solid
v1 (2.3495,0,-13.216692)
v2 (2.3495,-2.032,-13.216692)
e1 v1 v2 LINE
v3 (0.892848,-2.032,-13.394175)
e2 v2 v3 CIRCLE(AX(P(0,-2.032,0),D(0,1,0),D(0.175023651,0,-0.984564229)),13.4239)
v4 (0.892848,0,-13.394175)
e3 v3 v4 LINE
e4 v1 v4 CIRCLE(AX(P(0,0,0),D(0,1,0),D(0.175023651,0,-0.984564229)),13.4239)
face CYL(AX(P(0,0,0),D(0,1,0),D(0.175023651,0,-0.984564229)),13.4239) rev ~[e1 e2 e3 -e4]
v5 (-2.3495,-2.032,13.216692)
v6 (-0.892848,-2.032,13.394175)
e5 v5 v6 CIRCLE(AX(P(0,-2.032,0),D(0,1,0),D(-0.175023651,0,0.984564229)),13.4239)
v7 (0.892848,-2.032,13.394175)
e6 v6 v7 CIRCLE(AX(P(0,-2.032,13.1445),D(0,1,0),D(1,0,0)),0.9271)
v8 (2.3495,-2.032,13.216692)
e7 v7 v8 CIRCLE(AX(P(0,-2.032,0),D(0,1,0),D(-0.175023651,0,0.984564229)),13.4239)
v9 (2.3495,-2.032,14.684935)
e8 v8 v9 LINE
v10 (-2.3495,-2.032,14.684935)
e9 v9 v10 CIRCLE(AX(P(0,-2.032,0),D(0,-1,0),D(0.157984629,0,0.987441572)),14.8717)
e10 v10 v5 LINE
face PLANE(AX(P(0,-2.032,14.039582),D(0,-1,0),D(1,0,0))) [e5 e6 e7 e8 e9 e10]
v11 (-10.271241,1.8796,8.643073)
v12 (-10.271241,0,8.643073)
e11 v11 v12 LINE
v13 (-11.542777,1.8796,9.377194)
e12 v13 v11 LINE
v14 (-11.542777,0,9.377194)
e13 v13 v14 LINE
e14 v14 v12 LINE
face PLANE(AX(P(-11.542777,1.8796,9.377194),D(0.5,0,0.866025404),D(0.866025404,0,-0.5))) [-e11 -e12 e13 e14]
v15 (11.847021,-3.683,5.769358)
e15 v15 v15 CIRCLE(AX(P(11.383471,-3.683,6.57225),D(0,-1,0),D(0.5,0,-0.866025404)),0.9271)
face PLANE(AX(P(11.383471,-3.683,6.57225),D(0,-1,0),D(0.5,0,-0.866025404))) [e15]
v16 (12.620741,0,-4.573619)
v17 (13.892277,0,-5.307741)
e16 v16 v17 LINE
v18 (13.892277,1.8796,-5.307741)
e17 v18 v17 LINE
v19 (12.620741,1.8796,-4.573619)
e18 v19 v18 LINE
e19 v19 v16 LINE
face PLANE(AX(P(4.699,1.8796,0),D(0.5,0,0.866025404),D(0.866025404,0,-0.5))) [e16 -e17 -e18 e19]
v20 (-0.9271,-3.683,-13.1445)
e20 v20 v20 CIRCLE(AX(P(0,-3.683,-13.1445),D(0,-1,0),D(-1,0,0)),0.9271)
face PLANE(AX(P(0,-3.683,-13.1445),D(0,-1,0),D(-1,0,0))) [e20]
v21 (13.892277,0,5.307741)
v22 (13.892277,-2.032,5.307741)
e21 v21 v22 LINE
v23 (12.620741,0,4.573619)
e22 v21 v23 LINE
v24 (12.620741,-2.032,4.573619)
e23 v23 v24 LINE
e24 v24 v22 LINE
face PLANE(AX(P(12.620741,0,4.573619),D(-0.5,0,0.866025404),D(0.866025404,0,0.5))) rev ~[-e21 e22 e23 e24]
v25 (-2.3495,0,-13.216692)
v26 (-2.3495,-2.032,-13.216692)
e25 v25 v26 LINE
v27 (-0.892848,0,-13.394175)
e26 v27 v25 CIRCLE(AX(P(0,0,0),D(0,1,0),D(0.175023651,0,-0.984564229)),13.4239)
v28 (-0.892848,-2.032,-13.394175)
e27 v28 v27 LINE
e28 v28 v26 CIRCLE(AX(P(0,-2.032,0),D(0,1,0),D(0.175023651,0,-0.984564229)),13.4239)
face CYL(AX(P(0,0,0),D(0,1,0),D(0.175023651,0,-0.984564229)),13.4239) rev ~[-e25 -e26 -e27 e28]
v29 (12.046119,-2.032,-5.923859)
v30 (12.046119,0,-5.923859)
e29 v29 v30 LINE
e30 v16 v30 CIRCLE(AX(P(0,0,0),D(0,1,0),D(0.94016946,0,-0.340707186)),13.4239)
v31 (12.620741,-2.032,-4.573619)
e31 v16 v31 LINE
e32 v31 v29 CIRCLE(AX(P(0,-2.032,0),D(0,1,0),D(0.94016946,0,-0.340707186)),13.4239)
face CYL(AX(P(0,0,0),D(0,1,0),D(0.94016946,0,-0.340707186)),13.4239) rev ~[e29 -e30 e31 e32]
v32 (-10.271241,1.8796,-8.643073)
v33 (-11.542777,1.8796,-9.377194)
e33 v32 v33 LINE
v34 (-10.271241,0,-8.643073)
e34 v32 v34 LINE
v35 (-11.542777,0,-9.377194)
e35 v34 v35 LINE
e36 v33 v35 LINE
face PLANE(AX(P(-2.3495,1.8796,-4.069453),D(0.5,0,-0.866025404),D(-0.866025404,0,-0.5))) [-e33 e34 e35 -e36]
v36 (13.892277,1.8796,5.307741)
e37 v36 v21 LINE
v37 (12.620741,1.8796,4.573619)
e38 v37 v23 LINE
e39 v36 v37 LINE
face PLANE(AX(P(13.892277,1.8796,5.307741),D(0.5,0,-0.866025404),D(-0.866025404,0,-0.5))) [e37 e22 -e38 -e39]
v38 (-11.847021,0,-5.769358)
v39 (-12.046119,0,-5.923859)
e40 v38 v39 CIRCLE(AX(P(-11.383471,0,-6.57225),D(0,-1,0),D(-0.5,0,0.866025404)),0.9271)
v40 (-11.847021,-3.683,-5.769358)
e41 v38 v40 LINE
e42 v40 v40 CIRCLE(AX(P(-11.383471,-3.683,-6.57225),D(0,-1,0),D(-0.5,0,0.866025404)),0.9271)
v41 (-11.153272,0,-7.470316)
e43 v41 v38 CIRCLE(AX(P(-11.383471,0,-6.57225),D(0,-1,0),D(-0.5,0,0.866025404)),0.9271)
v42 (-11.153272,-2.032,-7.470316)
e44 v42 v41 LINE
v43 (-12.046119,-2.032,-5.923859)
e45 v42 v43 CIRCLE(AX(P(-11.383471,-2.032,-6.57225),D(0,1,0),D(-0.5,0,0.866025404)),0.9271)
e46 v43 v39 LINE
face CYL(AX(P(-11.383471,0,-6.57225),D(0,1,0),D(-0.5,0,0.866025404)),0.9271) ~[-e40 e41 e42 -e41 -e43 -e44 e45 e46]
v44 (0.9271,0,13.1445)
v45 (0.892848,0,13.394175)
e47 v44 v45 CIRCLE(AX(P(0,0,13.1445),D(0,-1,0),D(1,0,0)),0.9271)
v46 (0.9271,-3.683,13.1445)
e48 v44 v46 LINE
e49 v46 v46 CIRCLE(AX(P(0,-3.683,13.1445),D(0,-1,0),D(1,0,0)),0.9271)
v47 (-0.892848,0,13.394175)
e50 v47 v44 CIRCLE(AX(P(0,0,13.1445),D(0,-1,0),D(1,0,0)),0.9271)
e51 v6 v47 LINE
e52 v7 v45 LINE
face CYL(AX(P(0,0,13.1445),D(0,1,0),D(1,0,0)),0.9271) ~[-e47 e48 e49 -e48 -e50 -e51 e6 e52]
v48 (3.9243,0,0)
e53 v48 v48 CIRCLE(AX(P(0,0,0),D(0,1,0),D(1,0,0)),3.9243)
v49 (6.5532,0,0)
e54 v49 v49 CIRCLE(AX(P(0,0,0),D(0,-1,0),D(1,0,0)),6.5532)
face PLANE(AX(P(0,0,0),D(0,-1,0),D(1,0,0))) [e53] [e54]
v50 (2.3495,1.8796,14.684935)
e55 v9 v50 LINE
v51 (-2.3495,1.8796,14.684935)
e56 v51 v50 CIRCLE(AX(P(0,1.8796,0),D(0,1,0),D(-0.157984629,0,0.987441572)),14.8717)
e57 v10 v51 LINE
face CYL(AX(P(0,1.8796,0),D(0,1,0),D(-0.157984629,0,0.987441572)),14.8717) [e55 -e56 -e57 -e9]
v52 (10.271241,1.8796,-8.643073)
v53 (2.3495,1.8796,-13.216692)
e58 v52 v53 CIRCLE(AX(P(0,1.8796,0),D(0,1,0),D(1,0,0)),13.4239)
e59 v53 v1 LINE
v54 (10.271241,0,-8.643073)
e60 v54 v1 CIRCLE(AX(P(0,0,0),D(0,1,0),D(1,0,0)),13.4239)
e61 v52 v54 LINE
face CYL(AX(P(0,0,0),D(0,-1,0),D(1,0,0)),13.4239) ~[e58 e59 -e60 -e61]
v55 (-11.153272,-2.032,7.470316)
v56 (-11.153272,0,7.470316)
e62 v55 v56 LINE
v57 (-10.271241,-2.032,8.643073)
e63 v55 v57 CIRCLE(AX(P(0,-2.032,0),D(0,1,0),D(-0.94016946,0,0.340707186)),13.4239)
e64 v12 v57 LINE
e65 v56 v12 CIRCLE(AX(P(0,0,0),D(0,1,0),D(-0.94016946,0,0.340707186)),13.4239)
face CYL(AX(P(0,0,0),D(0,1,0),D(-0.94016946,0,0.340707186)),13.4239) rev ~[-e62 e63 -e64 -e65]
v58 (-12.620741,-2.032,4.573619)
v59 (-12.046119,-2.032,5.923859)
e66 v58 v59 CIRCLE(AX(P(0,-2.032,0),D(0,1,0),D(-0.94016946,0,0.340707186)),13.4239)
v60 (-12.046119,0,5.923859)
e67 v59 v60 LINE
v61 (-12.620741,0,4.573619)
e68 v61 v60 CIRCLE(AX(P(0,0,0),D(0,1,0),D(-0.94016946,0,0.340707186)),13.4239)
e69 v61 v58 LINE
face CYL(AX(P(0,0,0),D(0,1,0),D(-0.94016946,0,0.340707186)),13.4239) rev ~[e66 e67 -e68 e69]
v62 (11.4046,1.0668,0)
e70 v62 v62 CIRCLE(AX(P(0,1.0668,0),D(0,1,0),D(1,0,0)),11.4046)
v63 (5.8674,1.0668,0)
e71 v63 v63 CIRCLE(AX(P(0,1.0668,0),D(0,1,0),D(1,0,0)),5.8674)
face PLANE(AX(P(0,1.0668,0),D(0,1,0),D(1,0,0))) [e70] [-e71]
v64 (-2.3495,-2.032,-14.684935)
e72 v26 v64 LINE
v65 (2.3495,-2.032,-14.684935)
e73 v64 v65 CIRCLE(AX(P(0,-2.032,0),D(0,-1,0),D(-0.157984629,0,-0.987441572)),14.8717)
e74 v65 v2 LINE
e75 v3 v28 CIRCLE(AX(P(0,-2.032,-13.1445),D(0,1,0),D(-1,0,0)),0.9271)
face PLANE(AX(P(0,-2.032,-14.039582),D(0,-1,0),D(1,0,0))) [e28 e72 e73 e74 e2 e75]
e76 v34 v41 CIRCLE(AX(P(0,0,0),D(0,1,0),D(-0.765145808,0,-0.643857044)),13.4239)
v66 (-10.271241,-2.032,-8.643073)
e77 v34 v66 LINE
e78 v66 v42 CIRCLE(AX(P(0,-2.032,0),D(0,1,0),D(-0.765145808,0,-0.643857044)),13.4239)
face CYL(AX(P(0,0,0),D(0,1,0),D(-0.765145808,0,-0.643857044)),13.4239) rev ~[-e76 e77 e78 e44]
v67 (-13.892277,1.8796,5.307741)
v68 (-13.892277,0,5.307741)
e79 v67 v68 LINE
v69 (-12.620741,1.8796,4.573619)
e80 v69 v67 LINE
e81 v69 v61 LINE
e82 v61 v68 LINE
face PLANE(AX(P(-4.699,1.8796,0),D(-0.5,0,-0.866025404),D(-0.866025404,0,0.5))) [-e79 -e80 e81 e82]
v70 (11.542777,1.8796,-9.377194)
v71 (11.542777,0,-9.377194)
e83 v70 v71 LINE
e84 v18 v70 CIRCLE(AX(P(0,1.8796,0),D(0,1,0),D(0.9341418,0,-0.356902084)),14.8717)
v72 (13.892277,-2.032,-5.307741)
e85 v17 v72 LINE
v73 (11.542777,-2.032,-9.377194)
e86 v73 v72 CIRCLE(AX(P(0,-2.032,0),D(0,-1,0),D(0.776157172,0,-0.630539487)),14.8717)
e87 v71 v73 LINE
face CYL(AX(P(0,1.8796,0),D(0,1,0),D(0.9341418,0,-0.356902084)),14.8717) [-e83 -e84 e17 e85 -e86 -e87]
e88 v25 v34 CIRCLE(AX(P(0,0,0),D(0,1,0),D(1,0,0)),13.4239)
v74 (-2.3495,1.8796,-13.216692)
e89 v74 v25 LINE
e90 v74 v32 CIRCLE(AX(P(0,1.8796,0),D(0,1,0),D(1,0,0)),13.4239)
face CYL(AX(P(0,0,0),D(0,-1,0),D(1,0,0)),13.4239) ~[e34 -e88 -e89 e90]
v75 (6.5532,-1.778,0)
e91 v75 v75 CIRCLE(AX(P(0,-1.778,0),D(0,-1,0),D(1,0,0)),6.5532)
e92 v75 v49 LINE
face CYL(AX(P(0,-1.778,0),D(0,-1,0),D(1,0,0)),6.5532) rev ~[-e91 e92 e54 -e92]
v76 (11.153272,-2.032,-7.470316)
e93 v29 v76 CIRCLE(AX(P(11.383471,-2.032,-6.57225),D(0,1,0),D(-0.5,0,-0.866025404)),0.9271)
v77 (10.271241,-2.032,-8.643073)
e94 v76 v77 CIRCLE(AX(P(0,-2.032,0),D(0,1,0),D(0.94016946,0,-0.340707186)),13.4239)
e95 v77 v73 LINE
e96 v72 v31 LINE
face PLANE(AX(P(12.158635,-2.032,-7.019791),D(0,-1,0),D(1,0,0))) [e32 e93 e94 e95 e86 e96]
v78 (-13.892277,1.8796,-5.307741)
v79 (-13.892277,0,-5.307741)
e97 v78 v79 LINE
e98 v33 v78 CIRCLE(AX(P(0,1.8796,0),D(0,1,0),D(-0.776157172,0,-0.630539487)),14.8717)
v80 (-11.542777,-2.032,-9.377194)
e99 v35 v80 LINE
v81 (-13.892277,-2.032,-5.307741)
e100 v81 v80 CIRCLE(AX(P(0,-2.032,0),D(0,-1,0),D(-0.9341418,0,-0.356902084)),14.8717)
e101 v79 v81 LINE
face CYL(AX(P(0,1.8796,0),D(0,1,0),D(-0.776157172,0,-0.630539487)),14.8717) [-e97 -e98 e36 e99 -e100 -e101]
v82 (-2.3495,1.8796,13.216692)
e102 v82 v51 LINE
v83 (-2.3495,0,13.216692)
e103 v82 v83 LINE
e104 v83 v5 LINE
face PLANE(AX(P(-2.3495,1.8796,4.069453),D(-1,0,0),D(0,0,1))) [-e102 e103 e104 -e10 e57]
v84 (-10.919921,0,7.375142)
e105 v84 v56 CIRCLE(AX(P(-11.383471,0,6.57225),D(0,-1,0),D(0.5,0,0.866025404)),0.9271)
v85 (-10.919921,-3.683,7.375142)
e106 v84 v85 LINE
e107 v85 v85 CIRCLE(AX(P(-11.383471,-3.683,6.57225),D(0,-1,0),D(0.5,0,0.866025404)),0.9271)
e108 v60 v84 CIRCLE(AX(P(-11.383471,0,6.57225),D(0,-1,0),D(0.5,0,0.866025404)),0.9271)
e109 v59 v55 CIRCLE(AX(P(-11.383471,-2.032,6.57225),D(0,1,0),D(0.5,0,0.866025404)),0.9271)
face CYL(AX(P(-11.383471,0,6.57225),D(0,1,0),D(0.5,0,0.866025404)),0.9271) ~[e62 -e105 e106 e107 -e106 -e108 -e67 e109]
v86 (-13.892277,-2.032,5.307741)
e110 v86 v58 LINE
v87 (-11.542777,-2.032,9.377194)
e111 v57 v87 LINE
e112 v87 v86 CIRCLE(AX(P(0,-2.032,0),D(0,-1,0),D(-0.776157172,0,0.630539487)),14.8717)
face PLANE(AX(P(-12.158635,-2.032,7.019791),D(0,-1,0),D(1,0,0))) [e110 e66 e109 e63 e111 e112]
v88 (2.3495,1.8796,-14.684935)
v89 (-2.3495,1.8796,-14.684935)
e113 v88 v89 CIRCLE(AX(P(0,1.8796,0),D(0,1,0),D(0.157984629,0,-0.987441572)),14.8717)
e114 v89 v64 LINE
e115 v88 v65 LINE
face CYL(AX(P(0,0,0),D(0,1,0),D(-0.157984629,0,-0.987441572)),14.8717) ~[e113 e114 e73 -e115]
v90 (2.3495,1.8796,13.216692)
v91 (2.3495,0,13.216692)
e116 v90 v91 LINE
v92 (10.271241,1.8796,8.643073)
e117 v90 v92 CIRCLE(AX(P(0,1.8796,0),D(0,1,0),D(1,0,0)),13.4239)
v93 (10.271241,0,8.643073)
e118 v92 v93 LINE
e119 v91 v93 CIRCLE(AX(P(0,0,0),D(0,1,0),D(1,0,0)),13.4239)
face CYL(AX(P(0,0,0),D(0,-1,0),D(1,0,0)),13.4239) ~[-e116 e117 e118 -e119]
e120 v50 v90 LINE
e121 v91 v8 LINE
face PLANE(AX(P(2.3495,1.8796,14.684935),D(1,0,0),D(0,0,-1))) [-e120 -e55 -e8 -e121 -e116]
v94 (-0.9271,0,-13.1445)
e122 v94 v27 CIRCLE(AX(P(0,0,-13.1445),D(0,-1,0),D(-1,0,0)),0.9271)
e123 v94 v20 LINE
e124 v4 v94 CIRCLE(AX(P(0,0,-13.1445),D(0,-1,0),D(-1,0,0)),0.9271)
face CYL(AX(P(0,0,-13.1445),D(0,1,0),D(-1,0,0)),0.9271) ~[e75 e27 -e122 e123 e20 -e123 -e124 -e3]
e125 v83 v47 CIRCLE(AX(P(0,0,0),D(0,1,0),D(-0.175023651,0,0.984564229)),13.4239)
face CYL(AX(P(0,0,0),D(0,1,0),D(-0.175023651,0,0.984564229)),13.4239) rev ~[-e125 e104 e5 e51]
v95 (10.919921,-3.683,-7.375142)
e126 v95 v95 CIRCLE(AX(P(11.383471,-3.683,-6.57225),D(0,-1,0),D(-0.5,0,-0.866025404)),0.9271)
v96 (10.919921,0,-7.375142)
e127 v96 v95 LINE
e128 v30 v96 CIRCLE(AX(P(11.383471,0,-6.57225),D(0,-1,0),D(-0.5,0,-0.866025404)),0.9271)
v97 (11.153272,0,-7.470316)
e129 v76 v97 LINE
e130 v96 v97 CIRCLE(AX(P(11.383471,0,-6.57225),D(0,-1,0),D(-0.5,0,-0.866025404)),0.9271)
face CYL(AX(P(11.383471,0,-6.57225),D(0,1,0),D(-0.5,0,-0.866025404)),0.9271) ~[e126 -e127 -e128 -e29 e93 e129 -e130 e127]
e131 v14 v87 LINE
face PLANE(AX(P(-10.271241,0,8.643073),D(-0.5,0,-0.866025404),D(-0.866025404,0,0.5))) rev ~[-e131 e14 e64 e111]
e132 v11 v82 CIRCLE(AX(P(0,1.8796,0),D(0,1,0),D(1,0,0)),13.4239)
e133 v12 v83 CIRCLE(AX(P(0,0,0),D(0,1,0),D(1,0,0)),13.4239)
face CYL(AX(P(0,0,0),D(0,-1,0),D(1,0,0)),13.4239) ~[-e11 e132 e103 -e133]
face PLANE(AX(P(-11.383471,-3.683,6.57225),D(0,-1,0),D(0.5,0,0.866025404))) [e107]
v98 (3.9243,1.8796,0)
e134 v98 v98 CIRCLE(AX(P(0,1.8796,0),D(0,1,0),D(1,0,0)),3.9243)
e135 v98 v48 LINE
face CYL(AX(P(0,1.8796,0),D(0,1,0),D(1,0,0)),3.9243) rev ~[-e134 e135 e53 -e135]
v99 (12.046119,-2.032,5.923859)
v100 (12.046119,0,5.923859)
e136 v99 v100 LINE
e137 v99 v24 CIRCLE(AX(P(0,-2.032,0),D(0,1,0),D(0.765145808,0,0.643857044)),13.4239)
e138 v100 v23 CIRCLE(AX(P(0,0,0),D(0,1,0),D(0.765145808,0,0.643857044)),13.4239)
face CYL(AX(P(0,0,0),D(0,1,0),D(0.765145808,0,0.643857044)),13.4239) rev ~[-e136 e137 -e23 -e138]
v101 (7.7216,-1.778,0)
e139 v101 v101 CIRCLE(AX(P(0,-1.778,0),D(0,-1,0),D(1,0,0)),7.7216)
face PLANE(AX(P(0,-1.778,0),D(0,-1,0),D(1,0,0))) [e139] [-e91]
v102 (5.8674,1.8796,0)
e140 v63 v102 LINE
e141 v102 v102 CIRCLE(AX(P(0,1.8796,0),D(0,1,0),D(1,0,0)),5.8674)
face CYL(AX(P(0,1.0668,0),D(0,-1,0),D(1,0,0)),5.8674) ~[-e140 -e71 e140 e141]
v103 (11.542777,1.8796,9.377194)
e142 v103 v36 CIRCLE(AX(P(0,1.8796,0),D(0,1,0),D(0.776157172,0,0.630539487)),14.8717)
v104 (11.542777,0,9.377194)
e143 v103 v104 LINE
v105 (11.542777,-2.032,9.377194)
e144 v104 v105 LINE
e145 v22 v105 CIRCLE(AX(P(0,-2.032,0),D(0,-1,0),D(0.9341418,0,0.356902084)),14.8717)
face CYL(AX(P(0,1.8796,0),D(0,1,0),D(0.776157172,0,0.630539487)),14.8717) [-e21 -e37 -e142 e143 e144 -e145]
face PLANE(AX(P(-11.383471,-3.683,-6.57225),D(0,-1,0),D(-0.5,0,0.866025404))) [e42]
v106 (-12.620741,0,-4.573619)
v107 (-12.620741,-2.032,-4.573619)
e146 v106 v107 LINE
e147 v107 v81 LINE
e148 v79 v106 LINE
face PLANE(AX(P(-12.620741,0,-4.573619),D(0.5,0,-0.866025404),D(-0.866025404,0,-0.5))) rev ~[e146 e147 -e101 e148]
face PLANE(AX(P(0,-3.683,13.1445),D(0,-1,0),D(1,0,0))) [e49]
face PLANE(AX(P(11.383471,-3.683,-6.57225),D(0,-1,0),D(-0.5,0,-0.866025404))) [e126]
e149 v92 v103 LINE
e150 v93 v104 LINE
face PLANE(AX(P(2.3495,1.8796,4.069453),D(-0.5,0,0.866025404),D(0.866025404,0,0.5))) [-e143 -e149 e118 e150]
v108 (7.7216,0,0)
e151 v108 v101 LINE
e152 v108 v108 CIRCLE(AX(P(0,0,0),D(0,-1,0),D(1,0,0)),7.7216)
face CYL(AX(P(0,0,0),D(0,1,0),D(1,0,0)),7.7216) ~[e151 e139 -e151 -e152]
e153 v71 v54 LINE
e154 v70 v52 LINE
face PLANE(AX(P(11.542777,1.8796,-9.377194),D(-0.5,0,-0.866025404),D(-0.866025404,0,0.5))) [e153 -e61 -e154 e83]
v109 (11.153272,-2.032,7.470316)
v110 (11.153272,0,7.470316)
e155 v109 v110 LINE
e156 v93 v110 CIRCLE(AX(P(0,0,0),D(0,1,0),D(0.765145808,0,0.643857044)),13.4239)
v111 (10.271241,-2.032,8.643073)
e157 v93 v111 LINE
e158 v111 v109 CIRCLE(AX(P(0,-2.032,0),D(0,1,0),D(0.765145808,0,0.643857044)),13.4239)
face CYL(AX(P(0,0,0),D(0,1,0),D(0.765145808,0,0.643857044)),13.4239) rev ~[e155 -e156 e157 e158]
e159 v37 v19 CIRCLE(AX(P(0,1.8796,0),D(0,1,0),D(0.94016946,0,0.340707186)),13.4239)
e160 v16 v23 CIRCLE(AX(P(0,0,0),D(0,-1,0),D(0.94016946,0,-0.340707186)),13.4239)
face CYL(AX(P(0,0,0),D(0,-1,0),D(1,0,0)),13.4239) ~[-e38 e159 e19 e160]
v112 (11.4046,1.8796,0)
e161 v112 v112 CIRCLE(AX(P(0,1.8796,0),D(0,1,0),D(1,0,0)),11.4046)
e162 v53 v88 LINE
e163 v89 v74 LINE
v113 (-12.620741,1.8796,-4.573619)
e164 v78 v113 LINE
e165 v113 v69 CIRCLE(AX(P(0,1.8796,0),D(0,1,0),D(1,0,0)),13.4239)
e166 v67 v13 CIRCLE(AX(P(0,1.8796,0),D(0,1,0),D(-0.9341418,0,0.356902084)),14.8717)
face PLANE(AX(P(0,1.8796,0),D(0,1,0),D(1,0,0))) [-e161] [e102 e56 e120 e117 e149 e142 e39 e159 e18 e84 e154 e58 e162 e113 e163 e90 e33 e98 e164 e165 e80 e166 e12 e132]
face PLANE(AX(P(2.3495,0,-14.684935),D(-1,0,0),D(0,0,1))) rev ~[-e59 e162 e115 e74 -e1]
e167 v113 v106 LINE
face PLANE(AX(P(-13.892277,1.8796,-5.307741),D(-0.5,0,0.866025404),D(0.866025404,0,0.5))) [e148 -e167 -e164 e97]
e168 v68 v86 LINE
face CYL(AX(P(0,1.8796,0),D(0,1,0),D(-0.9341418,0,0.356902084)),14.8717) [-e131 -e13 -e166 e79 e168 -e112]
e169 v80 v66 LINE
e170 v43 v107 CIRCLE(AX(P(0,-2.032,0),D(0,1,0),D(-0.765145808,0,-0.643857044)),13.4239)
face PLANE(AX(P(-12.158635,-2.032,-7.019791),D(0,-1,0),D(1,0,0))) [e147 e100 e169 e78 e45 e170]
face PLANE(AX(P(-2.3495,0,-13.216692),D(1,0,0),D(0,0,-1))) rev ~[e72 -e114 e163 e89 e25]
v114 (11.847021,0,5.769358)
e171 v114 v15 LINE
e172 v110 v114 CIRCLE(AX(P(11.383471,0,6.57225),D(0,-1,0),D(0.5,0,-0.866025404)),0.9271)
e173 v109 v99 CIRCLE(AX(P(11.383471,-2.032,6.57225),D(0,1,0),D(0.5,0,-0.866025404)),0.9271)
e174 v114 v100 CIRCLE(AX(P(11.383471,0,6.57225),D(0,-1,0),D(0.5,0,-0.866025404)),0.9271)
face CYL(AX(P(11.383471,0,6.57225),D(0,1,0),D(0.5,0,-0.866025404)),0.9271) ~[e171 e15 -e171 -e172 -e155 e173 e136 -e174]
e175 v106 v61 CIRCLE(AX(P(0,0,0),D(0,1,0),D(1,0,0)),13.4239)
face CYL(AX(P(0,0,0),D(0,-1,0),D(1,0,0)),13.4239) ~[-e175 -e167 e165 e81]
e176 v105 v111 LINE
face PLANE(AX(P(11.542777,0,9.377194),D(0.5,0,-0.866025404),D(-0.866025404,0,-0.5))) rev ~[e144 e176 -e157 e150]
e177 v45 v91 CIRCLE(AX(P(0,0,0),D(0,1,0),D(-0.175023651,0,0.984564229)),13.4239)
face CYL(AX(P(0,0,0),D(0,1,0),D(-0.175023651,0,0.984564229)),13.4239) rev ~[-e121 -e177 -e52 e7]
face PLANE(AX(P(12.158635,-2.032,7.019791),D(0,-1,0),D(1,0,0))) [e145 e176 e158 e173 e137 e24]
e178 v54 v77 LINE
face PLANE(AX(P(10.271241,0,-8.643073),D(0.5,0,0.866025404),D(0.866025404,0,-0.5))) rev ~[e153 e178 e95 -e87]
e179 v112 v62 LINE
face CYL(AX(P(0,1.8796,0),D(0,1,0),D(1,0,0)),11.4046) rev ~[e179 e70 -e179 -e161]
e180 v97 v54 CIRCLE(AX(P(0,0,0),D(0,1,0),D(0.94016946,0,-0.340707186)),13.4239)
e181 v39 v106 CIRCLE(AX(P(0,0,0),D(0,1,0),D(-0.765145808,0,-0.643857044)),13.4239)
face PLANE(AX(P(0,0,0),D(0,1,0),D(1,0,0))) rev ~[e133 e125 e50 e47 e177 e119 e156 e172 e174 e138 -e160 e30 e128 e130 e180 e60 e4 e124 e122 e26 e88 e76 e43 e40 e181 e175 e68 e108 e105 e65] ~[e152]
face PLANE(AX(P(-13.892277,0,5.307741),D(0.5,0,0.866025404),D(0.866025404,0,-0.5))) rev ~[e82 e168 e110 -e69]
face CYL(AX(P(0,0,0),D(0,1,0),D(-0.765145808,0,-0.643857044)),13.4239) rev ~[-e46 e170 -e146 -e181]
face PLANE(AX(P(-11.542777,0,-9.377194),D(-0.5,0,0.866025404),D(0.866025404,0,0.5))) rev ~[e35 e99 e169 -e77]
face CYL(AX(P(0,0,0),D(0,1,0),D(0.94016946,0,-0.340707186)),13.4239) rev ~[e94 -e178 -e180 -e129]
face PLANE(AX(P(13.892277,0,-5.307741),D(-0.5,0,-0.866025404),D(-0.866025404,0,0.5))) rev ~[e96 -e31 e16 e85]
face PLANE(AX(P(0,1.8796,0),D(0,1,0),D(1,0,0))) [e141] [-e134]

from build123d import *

# Parameters (mm, degrees)
SKETCH1_R           = 13.4239
BOSS_EXTRUDE1_DEPTH = 1.8796
BOSS_EXTRUDE2_DEPTH = 1.8796
SKETCH3_R           = 11.4046
CUT_EXTRUDE1_DEPTH  = 0.8128
SKETCH4_R           = 5.8674
BOSS_EXTRUDE3_DEPTH = 0.8128
SKETCH5_R           = 3.9243
CUT_EXTRUDE2_DEPTH  = 2.8796
SKETCH6_R           = 7.7216
BOSS_EXTRUDE4_DEPTH = 1.778
SKETCH7_R           = 6.5532
CUT_EXTRUDE3_DEPTH  = 1.778
BOSS_EXTRUDE5_DEPTH = 2.032
SKETCH9_R           = 0.9271
BOSS_EXTRUDE6_DEPTH = 3.683
CIRPATTERN1_COUNT   = 6


with BuildPart() as part:
    # Sketch1 → Boss-Extrude1 (new body)
    with BuildSketch(Plane(origin=(0, 0, 0), x_dir=(1, 0, 0), z_dir=(0, 1, 0))):
        Circle(SKETCH1_R)
    extrude(amount=BOSS_EXTRUDE1_DEPTH)

    # Sketch2 → Boss-Extrude2 (add)
    with BuildSketch(Plane(origin=(0, 1.8796, 0), x_dir=(1, 0, 0), z_dir=(0, 1, 0))):
        with BuildLine():
            Line((-13.892276606, 5.307740723), (-4.699, 0))
            Line((-4.699, 0), (-13.892276606, -5.307740723))
            ThreePointArc((-13.892276606, -5.307740723), (-12.879269997, -7.43585), (-11.542776606, -9.377194096))
            Line((-11.542776606, -9.377194096), (-2.3495, -4.069453372))
            Line((-2.3495, -4.069453372), (-2.3495, -14.684934819))
            ThreePointArc((-2.3495, -14.684934819), (0, -14.8717), (2.3495, -14.684934819))
            Line((2.3495, -14.684934819), (2.3495, -4.069453372))
            Line((2.3495, -4.069453372), (11.542776606, -9.377194096))
            ThreePointArc((11.542776606, -9.377194096), (12.879269997, -7.43585), (13.892276606, -5.307740723))
            Line((13.892276606, -5.307740723), (4.699, 0))
            Line((4.699, 0), (13.892276606, 5.307740723))
            ThreePointArc((13.892276606, 5.307740723), (12.879269997, 7.43585), (11.542776606, 9.377194096))
            Line((11.542776606, 9.377194096), (2.3495, 4.069453372))
            Line((2.3495, 4.069453372), (2.3495, 14.684934819))
            ThreePointArc((2.3495, 14.684934819), (0, 14.8717), (-2.3495, 14.684934819))
            Line((-2.3495, 14.684934819), (-2.3495, 4.069453372))
            Line((-2.3495, 4.069453372), (-11.542776606, 9.377194096))
            ThreePointArc((-11.542776606, 9.377194096), (-12.879269997, 7.43585), (-13.892276606, 5.307740723))
        make_face()
    extrude(amount=-BOSS_EXTRUDE2_DEPTH)

    # Sketch3 → Cut-Extrude1 (cut)
    with BuildSketch(Plane(origin=(0, 1.8796, 0), x_dir=(1, 0, 0), z_dir=(0, 1, 0))):
        Circle(SKETCH3_R)
    extrude(amount=-CUT_EXTRUDE1_DEPTH, mode=Mode.SUBTRACT)

    # Sketch4 → Boss-Extrude3 (add)
    with BuildSketch(Plane(origin=(0, 1.0668, 0), x_dir=(1, 0, 0), z_dir=(0, 1, 0))):
        Circle(SKETCH4_R)
    extrude(amount=BOSS_EXTRUDE3_DEPTH)

    # Sketch5 → Cut-Extrude2 (cut, through all)
    with BuildSketch(Plane(origin=(0, 1.8796, 0), x_dir=(1, 0, 0), z_dir=(0, 1, 0))):
        Circle(SKETCH5_R)
    extrude(amount=-CUT_EXTRUDE2_DEPTH, mode=Mode.SUBTRACT)

    # Sketch6 → Boss-Extrude4 (add)
    with BuildSketch(Plane.XZ):
        Circle(SKETCH6_R)
    extrude(amount=BOSS_EXTRUDE4_DEPTH)

    # Sketch7 → Cut-Extrude3 (cut)
    with BuildSketch(Plane.XZ.offset(1.778)):
        Circle(SKETCH7_R)
    extrude(amount=-CUT_EXTRUDE3_DEPTH, mode=Mode.SUBTRACT)

    # Sketch8 → Boss-Extrude5 (add)
    with BuildSketch(Plane.XZ):
        with BuildLine():
            Line((-2.3495, -13.216691756), (-2.3495, -14.684934819))
            ThreePointArc((-2.3495, -14.684934819), (0, -14.8717), (2.3495, -14.684934819))
            Line((2.3495, -14.684934819), (2.3495, -13.216691756))
            ThreePointArc((2.3495, -13.216691756), (0, -13.4239), (-2.3495, -13.216691756))
        make_face()
        with BuildLine():
            Line((10.271240814, -8.643072564), (11.542776606, -9.377194096))
            ThreePointArc((11.542776606, -9.377194096), (12.879269997, -7.43585), (13.892276606, -5.307740723))
            Line((13.892276606, -5.307740723), (12.620740814, -4.573619192))
            ThreePointArc((12.620740814, -4.573619192), (11.625438418, -6.71195), (10.271240814, -8.643072564))
        make_face()
        with BuildLine():
            Line((12.620740814, 4.573619192), (13.892276606, 5.307740723))
            ThreePointArc((13.892276606, 5.307740723), (12.879269997, 7.43585), (11.542776606, 9.377194096))
            Line((11.542776606, 9.377194096), (10.271240814, 8.643072564))
            ThreePointArc((10.271240814, 8.643072564), (11.625438418, 6.71195), (12.620740814, 4.573619192))
        make_face()
        with BuildLine():
            Line((2.3495, 13.216691756), (2.3495, 14.684934819))
            ThreePointArc((2.3495, 14.684934819), (0, 14.8717), (-2.3495, 14.684934819))
            Line((-2.3495, 14.684934819), (-2.3495, 13.216691756))
            ThreePointArc((-2.3495, 13.216691756), (0, 13.4239), (2.3495, 13.216691756))
        make_face()
        with BuildLine():
            Line((-10.271240814, 8.643072564), (-11.542776606, 9.377194096))
            ThreePointArc((-11.542776606, 9.377194096), (-12.879269997, 7.43585), (-13.892276606, 5.307740723))
            Line((-13.892276606, 5.307740723), (-12.620740814, 4.573619192))
            ThreePointArc((-12.620740814, 4.573619192), (-11.625438418, 6.71195), (-10.271240814, 8.643072564))
        make_face()
        with BuildLine():
            Line((-12.620740814, -4.573619192), (-13.892276606, -5.307740723))
            ThreePointArc((-13.892276606, -5.307740723), (-12.879269997, -7.43585), (-11.542776606, -9.377194096))
            Line((-11.542776606, -9.377194096), (-10.271240814, -8.643072564))
            ThreePointArc((-10.271240814, -8.643072564), (-11.625438418, -6.71195), (-12.620740814, -4.573619192))
        make_face()
    extrude(amount=BOSS_EXTRUDE5_DEPTH)

    # Sketch9 → Boss-Extrude6 (add)
    with BuildSketch(Plane.XZ):
        with Locations((0, 13.1445)):
            Circle(SKETCH9_R)
    boss_extrude6 = extrude(amount=BOSS_EXTRUDE6_DEPTH)

    # CirPattern1: Boss-Extrude6 ×6 about axis
    cirpattern1_axis = Axis((0, 0, 0), (0, 1, 0))
    for i in range(1, CIRPATTERN1_COUNT):
        add(boss_extrude6.rotate(cirpattern1_axis, i * 360 / CIRPATTERN1_COUNT))


solid = part.part
